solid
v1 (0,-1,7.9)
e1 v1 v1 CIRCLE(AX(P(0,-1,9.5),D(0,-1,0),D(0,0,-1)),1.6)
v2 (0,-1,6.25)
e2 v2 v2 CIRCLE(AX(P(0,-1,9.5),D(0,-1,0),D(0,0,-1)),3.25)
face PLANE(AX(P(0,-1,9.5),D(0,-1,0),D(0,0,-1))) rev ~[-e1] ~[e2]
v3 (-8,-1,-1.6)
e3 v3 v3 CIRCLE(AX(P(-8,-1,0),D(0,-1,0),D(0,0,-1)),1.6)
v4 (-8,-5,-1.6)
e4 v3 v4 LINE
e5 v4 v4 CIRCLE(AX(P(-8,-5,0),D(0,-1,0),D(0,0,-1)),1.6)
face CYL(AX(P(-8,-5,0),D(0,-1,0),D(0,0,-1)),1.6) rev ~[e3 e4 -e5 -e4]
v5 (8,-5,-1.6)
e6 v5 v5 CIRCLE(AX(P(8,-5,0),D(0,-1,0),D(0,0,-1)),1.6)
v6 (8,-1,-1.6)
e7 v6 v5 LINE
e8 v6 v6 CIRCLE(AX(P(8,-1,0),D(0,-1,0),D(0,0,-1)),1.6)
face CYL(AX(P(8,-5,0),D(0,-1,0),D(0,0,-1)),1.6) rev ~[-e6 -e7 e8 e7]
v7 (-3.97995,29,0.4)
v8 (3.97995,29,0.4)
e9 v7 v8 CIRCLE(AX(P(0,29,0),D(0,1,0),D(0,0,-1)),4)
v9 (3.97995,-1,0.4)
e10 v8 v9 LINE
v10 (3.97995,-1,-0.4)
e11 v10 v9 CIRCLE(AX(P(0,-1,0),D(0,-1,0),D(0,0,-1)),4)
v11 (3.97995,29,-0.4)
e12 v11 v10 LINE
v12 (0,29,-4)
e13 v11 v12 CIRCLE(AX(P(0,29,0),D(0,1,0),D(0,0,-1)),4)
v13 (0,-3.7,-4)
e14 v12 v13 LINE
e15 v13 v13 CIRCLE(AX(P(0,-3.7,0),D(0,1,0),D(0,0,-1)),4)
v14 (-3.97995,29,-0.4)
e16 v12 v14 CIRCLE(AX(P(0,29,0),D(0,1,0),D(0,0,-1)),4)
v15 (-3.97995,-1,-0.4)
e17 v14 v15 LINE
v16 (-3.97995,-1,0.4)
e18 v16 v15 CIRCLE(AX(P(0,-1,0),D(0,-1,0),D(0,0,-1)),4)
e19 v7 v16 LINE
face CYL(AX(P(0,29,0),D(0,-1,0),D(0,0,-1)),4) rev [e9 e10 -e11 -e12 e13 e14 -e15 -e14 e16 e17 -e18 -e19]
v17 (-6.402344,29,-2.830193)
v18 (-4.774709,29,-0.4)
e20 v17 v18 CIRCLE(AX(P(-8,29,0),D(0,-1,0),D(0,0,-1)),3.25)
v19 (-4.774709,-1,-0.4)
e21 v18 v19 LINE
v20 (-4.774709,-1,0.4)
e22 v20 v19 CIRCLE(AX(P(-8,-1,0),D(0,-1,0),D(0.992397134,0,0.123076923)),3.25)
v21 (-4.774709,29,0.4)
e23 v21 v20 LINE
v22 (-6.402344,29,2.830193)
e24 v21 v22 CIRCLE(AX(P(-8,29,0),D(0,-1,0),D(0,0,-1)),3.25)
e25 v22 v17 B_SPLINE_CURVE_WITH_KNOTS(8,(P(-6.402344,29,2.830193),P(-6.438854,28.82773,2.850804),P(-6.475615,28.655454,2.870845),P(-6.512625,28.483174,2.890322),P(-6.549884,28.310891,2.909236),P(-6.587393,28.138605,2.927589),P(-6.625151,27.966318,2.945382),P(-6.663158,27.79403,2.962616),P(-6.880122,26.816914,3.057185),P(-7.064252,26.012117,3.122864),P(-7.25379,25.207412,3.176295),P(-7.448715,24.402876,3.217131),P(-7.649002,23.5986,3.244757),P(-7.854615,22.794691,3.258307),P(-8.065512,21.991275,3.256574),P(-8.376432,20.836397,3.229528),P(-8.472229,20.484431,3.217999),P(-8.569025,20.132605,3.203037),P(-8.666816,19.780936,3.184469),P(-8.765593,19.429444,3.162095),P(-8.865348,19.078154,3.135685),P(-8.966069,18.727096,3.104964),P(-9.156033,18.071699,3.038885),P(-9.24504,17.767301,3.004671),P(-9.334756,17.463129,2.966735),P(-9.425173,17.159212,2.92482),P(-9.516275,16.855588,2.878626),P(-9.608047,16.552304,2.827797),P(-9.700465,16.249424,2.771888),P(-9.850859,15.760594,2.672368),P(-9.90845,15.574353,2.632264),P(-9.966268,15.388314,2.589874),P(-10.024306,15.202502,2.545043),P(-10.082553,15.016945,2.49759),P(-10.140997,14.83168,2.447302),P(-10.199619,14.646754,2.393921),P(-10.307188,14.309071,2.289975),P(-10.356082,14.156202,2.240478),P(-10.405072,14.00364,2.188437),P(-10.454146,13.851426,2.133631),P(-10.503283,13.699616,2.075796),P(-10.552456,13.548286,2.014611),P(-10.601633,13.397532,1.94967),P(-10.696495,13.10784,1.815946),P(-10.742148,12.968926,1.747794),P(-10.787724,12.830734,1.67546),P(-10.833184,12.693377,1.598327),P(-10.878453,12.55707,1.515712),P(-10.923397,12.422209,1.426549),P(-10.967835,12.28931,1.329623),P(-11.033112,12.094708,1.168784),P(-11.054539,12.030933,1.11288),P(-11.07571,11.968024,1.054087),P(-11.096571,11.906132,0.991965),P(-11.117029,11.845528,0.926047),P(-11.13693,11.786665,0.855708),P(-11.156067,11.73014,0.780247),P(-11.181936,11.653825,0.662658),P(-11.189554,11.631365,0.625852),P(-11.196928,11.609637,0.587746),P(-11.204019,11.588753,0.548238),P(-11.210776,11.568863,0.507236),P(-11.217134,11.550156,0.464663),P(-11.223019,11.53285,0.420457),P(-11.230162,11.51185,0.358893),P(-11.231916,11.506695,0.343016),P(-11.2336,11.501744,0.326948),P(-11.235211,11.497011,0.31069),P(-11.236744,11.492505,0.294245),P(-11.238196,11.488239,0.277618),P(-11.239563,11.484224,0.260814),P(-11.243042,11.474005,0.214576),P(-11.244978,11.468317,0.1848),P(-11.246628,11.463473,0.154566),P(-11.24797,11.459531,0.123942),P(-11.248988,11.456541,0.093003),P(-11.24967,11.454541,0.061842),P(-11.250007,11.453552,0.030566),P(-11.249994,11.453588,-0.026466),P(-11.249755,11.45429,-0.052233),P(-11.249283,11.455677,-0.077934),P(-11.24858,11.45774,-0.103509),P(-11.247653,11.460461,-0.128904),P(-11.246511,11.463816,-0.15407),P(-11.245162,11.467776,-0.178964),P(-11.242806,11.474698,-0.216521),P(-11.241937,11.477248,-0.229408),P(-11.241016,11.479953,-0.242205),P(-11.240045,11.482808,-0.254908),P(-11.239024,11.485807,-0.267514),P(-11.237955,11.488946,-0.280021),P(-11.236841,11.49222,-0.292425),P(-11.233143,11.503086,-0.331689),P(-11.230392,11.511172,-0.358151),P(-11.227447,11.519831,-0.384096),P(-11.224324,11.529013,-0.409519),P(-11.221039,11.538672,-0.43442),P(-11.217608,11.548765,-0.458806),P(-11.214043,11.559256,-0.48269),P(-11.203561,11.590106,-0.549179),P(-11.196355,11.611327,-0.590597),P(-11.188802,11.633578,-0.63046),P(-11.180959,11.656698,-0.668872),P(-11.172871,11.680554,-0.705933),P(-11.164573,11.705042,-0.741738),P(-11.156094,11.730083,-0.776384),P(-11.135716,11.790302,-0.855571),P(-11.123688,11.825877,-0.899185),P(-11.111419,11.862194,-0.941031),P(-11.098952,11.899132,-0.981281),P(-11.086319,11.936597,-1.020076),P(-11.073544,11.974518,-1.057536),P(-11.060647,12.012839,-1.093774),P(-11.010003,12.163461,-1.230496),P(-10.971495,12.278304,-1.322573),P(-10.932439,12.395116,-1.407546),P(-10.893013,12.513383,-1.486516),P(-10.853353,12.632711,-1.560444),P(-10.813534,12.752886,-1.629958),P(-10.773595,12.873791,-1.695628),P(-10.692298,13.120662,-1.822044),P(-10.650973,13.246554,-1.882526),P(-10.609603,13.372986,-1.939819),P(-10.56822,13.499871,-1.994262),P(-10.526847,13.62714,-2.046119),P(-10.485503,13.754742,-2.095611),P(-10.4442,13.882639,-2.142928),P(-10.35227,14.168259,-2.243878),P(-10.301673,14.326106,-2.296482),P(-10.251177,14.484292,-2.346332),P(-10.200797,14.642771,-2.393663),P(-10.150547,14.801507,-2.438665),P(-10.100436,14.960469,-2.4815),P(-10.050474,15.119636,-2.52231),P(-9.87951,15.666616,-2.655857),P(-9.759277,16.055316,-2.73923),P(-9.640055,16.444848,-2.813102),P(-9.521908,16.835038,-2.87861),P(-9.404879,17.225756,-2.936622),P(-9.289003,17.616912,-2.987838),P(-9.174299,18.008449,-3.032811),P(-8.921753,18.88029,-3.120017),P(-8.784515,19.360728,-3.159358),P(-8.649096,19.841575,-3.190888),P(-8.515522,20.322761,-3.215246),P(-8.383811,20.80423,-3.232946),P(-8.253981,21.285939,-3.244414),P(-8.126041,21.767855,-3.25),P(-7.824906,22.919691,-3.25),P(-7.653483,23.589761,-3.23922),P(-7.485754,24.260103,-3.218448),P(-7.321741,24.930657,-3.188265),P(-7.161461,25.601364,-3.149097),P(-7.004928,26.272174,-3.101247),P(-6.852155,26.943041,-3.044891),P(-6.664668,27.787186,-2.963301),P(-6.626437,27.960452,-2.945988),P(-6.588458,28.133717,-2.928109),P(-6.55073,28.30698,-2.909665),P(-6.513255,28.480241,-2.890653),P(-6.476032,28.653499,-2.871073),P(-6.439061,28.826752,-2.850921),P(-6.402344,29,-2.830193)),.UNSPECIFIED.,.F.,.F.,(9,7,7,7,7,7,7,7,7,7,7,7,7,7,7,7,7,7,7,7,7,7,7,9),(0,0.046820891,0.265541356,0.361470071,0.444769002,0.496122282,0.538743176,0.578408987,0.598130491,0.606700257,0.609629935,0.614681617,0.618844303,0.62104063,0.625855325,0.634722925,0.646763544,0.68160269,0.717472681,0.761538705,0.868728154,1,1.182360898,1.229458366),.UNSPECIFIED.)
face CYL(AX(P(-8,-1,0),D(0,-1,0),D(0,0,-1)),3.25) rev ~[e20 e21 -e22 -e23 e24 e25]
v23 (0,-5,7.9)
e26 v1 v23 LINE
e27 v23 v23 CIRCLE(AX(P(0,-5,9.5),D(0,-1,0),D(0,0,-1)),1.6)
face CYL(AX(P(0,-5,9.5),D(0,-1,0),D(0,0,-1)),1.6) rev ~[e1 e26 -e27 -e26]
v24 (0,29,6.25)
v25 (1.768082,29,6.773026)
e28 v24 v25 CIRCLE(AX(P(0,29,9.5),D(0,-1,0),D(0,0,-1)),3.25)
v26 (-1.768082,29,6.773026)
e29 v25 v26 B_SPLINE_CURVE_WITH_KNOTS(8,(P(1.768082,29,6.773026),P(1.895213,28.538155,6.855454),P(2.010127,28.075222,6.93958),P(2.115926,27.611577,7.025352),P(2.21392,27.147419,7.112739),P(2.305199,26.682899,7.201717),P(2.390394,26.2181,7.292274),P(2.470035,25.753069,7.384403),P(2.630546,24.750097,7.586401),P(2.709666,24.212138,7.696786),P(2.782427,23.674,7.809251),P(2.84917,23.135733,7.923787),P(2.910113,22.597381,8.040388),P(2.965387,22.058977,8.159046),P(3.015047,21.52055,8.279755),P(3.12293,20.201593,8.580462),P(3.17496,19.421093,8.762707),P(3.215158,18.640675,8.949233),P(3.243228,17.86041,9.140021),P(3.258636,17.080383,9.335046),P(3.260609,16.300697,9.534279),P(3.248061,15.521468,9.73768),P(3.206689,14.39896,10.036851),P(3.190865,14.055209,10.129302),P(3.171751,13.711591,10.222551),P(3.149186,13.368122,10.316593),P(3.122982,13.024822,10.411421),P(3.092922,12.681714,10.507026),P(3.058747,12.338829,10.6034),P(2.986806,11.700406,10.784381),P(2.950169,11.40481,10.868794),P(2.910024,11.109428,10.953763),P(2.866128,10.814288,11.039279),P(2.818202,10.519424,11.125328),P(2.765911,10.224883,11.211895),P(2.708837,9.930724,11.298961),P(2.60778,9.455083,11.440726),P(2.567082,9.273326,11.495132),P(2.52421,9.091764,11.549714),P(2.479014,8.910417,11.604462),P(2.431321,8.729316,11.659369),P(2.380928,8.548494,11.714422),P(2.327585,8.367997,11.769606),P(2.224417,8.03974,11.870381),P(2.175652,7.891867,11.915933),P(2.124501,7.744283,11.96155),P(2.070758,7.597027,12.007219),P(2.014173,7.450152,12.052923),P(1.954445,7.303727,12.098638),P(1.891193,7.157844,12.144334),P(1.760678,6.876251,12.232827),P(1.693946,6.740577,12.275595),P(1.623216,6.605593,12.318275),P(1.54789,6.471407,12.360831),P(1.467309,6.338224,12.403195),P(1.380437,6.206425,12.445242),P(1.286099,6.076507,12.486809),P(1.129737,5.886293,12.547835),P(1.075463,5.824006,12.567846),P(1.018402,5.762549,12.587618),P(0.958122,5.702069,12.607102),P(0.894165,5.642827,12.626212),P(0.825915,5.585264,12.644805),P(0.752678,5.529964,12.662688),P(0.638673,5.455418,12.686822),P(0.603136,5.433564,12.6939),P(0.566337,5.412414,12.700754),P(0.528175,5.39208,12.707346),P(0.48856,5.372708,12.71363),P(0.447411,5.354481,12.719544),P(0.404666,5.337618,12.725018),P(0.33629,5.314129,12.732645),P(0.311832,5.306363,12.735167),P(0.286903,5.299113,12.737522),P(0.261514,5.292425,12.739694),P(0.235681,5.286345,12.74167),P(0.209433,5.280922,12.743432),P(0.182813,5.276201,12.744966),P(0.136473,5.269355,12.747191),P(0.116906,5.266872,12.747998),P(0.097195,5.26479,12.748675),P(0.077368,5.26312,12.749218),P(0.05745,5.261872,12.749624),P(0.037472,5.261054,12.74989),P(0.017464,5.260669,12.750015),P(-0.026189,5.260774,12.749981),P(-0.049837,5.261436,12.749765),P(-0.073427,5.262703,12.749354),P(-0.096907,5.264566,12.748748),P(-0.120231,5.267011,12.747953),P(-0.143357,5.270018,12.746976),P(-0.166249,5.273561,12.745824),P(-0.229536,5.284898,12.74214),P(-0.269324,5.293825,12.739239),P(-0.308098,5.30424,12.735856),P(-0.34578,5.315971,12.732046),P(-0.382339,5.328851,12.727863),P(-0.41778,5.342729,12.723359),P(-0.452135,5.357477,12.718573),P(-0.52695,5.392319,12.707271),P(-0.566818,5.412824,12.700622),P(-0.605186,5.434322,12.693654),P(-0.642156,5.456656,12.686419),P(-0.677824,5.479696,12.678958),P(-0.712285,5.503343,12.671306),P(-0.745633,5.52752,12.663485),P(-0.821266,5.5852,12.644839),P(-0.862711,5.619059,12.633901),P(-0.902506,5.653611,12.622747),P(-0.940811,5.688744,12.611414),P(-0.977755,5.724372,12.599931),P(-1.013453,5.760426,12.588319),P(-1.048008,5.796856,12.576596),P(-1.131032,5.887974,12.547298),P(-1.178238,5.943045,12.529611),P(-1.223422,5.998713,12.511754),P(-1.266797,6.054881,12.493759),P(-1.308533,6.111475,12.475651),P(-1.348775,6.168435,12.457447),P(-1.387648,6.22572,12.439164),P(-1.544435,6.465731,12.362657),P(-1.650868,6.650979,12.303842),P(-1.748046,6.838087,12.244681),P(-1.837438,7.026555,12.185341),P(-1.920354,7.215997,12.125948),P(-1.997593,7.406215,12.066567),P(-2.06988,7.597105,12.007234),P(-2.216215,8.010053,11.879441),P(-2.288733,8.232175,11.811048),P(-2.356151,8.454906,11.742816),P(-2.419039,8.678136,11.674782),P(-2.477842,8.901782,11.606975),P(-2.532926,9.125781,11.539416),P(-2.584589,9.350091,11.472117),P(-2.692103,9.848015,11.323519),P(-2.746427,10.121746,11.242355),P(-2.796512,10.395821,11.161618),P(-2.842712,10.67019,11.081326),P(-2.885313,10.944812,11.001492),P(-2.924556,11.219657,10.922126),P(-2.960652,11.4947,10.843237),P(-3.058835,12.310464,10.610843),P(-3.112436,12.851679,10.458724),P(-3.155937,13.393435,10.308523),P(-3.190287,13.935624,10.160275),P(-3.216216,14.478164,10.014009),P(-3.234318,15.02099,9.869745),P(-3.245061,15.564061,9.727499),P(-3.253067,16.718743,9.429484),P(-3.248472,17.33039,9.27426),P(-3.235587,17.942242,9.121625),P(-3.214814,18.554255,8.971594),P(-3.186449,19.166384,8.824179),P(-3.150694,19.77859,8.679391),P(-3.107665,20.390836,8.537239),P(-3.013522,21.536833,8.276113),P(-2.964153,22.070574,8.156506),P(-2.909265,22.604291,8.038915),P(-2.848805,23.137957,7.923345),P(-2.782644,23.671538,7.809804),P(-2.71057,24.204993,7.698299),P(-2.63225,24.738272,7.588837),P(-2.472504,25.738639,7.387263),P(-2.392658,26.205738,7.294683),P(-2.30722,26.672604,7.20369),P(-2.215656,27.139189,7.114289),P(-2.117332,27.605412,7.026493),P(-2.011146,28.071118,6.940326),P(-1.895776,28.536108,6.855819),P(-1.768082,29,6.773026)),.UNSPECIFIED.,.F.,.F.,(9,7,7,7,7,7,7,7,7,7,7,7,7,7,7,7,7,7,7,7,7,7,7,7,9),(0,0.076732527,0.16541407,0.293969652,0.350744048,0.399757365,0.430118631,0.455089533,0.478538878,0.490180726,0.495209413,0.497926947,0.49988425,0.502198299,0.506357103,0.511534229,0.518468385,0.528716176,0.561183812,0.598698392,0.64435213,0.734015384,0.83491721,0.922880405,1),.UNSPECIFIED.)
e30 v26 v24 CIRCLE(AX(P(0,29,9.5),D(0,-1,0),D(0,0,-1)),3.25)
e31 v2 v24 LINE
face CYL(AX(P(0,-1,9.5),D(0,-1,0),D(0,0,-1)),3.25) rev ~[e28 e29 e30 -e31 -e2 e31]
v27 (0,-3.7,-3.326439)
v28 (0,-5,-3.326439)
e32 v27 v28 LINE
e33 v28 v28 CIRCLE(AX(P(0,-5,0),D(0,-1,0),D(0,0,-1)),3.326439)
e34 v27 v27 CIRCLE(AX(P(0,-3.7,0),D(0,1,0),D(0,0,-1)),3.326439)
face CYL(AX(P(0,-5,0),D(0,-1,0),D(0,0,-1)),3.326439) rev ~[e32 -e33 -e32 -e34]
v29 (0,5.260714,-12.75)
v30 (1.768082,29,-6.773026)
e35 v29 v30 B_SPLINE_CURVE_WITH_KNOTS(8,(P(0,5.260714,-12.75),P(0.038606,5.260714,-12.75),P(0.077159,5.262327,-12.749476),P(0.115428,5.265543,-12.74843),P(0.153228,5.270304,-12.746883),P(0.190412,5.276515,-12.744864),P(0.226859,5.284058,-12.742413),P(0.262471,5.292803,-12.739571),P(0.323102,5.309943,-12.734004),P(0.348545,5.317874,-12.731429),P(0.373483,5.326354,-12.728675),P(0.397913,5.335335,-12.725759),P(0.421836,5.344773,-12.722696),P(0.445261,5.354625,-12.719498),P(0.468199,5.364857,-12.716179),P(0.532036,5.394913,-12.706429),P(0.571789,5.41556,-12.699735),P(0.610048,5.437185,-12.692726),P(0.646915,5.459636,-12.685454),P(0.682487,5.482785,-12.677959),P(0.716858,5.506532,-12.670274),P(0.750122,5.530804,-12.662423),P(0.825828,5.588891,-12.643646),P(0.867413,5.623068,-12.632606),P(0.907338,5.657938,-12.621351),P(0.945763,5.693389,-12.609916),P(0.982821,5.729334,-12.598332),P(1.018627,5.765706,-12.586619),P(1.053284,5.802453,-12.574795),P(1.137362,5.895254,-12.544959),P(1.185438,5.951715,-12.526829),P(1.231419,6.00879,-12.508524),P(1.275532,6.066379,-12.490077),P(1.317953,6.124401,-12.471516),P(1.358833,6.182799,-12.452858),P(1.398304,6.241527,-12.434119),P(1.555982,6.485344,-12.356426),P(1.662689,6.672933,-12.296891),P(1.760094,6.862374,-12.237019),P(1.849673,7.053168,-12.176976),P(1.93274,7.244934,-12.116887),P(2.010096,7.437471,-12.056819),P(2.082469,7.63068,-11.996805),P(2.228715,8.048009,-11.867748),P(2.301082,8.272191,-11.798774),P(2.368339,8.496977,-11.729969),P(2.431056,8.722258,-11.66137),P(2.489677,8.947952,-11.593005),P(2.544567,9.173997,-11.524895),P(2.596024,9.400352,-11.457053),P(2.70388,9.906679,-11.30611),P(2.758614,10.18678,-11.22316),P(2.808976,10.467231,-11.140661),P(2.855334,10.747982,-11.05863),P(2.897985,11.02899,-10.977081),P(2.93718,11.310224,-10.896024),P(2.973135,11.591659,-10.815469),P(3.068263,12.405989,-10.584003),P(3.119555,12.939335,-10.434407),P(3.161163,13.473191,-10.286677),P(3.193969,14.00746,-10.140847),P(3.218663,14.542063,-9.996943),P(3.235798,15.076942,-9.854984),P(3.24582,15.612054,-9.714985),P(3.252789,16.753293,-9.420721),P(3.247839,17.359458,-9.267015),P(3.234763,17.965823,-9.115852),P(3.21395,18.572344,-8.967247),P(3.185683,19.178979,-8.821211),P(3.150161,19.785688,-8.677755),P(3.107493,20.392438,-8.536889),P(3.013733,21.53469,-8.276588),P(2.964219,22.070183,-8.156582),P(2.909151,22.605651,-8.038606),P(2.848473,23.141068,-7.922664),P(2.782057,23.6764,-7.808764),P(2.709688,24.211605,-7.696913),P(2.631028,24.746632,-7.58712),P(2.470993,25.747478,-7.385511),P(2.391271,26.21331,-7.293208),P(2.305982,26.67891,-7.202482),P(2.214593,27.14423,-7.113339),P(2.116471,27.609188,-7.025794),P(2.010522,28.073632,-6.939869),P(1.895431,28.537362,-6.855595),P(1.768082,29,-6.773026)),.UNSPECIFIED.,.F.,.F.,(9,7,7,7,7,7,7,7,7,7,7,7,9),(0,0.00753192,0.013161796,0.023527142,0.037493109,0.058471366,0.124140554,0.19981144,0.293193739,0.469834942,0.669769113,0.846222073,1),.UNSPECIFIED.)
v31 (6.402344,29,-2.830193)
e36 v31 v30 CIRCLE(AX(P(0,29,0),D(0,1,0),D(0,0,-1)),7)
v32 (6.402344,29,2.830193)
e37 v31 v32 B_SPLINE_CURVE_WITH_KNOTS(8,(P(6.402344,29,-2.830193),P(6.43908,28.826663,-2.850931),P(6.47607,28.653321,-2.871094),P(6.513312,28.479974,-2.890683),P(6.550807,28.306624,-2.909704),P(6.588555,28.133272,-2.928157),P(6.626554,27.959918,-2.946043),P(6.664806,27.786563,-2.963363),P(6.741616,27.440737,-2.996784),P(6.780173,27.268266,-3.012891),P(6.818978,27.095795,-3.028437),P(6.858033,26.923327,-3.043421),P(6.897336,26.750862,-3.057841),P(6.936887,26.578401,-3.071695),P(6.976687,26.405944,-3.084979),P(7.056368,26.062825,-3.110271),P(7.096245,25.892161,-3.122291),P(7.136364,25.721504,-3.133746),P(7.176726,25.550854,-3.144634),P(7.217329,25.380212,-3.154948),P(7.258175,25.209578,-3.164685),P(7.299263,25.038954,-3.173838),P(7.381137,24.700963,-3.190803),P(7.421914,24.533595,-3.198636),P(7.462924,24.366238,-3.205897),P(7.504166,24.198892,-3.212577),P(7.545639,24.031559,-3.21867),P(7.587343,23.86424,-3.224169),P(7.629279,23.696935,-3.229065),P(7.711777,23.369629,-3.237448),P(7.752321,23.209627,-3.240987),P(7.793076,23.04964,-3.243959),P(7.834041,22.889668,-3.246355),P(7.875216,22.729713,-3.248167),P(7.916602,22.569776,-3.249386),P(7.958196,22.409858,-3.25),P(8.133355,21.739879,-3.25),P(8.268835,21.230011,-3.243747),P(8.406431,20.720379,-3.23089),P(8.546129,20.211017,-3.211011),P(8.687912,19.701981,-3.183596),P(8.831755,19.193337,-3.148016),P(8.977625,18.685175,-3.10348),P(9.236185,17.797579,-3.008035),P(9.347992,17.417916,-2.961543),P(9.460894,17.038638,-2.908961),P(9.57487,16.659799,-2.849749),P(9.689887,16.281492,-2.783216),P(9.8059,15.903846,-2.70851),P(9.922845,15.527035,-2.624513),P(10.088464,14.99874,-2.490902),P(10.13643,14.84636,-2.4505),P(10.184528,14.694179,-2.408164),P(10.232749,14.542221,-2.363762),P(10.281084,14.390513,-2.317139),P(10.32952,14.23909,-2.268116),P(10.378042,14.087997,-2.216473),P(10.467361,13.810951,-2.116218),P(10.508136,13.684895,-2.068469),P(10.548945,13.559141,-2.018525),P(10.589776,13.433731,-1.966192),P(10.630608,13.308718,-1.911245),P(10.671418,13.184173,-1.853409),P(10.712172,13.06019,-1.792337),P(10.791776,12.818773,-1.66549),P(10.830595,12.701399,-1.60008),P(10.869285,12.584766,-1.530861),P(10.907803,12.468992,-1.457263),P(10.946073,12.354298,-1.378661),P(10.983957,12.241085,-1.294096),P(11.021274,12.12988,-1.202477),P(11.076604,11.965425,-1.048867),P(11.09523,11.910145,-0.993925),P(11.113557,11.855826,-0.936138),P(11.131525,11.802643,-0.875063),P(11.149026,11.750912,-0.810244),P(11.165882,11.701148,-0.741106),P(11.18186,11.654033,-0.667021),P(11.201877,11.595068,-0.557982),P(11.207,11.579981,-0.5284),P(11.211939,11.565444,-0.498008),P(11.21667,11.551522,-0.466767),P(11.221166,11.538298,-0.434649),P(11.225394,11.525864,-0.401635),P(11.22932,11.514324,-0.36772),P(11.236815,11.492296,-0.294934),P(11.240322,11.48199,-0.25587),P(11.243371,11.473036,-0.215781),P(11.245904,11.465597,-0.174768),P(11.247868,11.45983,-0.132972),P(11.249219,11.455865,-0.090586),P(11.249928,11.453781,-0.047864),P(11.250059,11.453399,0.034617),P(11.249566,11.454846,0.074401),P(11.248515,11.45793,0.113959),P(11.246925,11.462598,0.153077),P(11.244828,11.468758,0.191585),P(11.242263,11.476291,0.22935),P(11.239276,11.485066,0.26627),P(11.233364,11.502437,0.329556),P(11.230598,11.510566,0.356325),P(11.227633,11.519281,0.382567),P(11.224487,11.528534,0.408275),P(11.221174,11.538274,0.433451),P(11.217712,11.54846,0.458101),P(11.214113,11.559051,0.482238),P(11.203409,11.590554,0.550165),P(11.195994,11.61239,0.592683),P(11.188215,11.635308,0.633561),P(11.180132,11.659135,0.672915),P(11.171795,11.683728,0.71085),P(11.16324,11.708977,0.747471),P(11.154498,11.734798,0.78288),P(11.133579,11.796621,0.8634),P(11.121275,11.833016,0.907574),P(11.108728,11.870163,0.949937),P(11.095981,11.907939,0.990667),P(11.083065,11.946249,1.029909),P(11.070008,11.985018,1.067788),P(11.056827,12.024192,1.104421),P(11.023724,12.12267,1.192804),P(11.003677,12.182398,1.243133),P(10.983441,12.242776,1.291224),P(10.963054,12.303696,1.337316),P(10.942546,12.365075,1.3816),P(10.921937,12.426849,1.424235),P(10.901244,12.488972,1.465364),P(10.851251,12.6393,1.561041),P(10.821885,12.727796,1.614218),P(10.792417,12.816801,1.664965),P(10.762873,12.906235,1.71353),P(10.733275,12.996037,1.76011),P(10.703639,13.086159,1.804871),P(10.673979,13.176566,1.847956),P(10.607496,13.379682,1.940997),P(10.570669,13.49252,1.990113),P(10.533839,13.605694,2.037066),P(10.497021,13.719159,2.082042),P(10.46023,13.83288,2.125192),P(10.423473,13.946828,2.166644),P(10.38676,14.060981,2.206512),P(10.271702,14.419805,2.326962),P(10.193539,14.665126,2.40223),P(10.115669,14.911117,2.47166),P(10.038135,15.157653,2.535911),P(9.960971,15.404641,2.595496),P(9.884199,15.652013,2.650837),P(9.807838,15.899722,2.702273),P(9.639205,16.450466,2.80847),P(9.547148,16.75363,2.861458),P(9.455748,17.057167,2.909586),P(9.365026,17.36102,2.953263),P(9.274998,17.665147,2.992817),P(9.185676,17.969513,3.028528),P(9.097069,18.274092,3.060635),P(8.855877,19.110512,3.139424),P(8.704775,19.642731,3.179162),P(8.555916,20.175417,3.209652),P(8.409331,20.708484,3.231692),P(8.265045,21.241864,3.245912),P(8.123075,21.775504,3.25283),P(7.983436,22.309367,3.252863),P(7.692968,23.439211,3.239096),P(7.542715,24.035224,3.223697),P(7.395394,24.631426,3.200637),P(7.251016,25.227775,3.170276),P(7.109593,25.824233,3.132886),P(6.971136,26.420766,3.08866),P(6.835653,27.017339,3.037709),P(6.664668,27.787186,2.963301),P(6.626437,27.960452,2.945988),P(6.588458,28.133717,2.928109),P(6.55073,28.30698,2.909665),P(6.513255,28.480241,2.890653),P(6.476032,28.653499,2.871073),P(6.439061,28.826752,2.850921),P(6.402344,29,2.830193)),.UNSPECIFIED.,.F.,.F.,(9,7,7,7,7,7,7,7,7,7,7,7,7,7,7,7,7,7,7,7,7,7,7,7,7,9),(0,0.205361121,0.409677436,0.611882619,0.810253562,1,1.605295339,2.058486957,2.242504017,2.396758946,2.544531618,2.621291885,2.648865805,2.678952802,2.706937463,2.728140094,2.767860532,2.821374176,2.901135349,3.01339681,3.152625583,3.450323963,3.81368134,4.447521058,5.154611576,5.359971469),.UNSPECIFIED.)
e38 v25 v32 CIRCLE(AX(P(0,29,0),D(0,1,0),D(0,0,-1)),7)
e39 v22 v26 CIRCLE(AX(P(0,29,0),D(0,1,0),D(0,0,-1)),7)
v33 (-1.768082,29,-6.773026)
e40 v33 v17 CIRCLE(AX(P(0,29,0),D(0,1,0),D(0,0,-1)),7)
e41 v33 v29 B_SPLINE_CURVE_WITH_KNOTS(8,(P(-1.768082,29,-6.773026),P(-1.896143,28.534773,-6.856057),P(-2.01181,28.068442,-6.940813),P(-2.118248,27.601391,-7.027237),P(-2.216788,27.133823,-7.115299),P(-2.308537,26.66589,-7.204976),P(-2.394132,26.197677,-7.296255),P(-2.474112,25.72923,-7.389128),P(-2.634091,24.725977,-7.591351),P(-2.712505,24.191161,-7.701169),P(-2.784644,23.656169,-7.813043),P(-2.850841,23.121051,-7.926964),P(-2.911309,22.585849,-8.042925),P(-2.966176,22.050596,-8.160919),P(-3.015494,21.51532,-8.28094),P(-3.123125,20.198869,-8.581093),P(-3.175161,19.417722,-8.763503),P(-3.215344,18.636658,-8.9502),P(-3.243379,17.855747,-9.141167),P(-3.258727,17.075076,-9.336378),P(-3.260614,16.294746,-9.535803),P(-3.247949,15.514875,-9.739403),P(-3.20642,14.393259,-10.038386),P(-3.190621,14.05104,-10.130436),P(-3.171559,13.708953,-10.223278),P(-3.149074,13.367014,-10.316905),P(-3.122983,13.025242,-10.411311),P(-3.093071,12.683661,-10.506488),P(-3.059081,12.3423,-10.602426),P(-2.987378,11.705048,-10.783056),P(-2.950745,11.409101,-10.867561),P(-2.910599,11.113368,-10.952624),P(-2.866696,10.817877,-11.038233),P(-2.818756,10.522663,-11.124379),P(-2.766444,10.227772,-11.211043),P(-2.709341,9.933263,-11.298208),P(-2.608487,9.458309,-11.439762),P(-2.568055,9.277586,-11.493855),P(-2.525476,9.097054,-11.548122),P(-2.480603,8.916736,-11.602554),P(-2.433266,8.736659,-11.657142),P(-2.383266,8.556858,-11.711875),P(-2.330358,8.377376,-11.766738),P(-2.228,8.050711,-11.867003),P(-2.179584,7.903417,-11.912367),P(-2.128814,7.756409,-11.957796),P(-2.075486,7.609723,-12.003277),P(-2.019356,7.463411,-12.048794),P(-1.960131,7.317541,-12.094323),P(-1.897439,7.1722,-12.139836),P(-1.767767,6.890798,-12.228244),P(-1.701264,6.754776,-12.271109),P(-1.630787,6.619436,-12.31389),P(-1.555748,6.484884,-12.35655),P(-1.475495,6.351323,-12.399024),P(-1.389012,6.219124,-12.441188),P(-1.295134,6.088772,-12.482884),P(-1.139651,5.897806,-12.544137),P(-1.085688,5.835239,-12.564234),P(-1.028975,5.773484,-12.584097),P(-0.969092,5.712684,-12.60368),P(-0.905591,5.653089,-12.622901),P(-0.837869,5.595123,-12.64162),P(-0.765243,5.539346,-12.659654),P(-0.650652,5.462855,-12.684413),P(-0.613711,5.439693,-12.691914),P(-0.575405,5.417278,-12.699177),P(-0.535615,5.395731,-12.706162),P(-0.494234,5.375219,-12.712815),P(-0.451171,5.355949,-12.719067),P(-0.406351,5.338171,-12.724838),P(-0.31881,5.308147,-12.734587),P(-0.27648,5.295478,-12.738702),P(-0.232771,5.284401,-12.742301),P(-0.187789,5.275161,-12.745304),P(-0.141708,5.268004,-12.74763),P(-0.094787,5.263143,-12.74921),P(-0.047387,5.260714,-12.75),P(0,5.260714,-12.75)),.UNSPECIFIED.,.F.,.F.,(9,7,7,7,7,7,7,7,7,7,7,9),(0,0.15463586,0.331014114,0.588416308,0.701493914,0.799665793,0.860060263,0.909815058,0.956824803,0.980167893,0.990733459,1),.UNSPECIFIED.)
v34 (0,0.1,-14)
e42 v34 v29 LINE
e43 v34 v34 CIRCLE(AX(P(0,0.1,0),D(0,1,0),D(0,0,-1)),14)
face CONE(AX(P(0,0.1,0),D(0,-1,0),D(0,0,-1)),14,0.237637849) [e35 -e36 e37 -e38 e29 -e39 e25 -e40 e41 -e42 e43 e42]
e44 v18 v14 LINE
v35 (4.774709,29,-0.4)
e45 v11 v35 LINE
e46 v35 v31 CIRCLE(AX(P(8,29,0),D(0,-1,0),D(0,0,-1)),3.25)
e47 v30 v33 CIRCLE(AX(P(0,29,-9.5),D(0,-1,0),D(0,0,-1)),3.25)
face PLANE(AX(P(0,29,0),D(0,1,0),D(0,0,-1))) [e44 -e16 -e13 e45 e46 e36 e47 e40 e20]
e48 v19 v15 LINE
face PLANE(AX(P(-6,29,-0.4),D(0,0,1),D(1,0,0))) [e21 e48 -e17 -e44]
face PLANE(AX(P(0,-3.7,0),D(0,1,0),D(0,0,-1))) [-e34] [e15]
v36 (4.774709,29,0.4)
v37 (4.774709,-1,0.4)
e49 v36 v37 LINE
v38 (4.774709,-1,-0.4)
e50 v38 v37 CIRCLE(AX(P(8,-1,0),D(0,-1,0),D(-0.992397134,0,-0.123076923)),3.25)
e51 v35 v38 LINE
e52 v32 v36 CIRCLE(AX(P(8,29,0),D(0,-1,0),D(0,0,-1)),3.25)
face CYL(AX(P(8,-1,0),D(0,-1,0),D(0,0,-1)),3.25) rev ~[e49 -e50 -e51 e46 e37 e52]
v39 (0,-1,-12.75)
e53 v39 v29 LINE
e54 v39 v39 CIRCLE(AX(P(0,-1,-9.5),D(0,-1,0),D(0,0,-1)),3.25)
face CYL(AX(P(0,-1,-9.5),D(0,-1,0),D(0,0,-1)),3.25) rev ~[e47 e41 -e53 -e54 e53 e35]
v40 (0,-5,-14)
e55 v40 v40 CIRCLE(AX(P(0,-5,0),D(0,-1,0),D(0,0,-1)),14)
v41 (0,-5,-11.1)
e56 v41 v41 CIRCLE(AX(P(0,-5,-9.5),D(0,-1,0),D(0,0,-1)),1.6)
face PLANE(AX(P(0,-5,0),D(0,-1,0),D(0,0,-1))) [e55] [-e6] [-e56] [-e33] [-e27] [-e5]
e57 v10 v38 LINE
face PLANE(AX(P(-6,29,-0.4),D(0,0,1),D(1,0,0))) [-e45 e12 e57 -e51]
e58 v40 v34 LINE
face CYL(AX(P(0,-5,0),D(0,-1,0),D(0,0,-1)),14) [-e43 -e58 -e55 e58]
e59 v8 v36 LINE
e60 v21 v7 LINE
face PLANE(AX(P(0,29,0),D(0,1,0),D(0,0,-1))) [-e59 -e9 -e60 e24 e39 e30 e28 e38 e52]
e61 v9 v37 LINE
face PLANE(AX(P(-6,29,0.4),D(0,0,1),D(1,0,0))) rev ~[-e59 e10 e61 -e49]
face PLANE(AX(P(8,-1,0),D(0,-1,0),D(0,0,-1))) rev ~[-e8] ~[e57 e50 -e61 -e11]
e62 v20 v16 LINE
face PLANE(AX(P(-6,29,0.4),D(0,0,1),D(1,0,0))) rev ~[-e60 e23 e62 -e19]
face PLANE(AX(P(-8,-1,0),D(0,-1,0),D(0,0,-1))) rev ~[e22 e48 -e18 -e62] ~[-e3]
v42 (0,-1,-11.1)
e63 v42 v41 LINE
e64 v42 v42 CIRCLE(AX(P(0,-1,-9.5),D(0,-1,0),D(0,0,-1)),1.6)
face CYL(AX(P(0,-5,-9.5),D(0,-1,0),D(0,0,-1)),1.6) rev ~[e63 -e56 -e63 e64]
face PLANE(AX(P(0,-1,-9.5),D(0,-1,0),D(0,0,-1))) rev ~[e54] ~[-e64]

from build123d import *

# Parameters (mm, degrees)
SKETCH_2_R          = 1.6
CUT_EXTRUDE_1_DEPTH = 36.114099732
SKETCH_5_R          = 4
SKETCH_5_R_2        = 3.326438837
EXTRUDE_1_DEPTH     = 0.3
EXTRUDE_START       = 5
SKETCH_6_R          = 14
SKETCH_6_R_2        = 3.326438837
SKETCH_6_R_3        = 1.6
EXTRUDE_2_DEPTH     = 5
CUT_EXTRUDE_START   = 1
SKETCH_3_R          = 3.25
CUT_EXTRUDE_5_DEPTH = 37.114099894
CUT_EXTRUDE_START_2 = -4
SKETCH_7_R          = 4
SKETCH_7_R_2        = 3.326438837
CUT_EXTRUDE_6_DEPTH = 4
SKETCH_8_W          = 12
SKETCH_8_H          = 0.8
CUT_EXTRUDE_7_DEPTH = 30


with BuildPart() as part:
    # 草图1 → 旋转1 (revolve)
    with BuildSketch(Plane.XY, mode=Mode.PRIVATE) as revolve_1_sk:
        Polygon((4, 29), (4, 0), (14, 0), (14, 0.1), (7, 29), align=None)
    revolve(revolve_1_sk.sketch.rotate(Axis((0, 0, 0), (0, 1, 0)), 90), axis=Axis((0, 0, 0), (0, 1, 0)))

    # 草图2 → 切除-拉伸1 (cut, through all)
    with BuildSketch(Plane.XZ):
        with Locations(Location((8, 0, 0), (0, 0, 270))):
            Circle(SKETCH_2_R)
        with Locations(Location((0, 9.5, 0), (0, 0, 270))):
            Circle(SKETCH_2_R)
        with Locations(Location((0, -9.5, 0), (0, 0, 270))):
            Circle(SKETCH_2_R)
        with Locations(Location((-8, 0, 0), (0, 0, 270))):
            Circle(SKETCH_2_R)
    extrude(amount=-CUT_EXTRUDE_1_DEPTH, mode=Mode.SUBTRACT)

    # 草图5 → 凸台-拉伸1 (add)
    with BuildSketch(Plane.XZ):
        with Locations(Location((0, 0, 0), (0, 0, 270))):
            Circle(SKETCH_5_R)
        with Locations(Location((0, 0, 0), (0, 0, 270))):
            Circle(SKETCH_5_R_2, mode=Mode.SUBTRACT)
    extrude(amount=-EXTRUDE_1_DEPTH)

    # 草图6 → 凸台-拉伸2 (add)
    with BuildSketch(Plane.XZ.offset(EXTRUDE_START)):
        with Locations(Location((0, 0, 0), (0, 0, 270))):
            Circle(SKETCH_6_R)
        with Locations(Location((0, 0, 0), (0, 0, 270))):
            Circle(SKETCH_6_R_2, mode=Mode.SUBTRACT)
        with Locations(Location((0, 9.5, 0), (0, 0, 270))):
            Circle(SKETCH_6_R_3, mode=Mode.SUBTRACT)
        with Locations(Location((-8, 0, 0), (0, 0, 270))):
            Circle(SKETCH_6_R_3, mode=Mode.SUBTRACT)
        with Locations(Location((8, 0, 0), (0, 0, 270))):
            Circle(SKETCH_6_R_3, mode=Mode.SUBTRACT)
        with Locations(Location((0, -9.5, 0), (0, 0, 270))):
            Circle(SKETCH_6_R_3, mode=Mode.SUBTRACT)
    extrude(amount=-EXTRUDE_2_DEPTH)

    # 草图3 → 切除-拉伸5 (cut, through all)
    with BuildSketch(Plane.XZ.offset(CUT_EXTRUDE_START)):
        with Locations(Location((0, 9.5, 0), (0, 0, 270))):
            Circle(SKETCH_3_R)
        with Locations(Location((8, 0, 0), (0, 0, 270))):
            Circle(SKETCH_3_R)
        with Locations(Location((0, -9.5, 0), (0, 0, 270))):
            Circle(SKETCH_3_R)
        with Locations(Location((-8, 0, 0), (0, 0, 270))):
            Circle(SKETCH_3_R)
    extrude(amount=-CUT_EXTRUDE_5_DEPTH, mode=Mode.SUBTRACT)

    # 草图7 → 切除-拉伸6 (cut)
    with BuildSketch(Plane(origin=(0, 0.3, 0), x_dir=(1, 0, 0), z_dir=(0, 1, 0)).offset(CUT_EXTRUDE_START_2)):
        with Locations(Location((0, 0, 0), (0, 0, 90))):
            Circle(SKETCH_7_R)
        with Locations(Location((0, 0, 0), (0, 0, 90))):
            Circle(SKETCH_7_R_2, mode=Mode.SUBTRACT)
    extrude(amount=CUT_EXTRUDE_6_DEPTH, mode=Mode.SUBTRACT)

    # 草图8 → 切除-拉伸7 (cut)
    with BuildSketch(Plane(origin=(0, 29, 0), x_dir=(1, 0, 0), z_dir=(0, 1, 0))):
        Rectangle(SKETCH_8_W, SKETCH_8_H)
    extrude(amount=-CUT_EXTRUDE_7_DEPTH, mode=Mode.SUBTRACT)


solid = part.part
